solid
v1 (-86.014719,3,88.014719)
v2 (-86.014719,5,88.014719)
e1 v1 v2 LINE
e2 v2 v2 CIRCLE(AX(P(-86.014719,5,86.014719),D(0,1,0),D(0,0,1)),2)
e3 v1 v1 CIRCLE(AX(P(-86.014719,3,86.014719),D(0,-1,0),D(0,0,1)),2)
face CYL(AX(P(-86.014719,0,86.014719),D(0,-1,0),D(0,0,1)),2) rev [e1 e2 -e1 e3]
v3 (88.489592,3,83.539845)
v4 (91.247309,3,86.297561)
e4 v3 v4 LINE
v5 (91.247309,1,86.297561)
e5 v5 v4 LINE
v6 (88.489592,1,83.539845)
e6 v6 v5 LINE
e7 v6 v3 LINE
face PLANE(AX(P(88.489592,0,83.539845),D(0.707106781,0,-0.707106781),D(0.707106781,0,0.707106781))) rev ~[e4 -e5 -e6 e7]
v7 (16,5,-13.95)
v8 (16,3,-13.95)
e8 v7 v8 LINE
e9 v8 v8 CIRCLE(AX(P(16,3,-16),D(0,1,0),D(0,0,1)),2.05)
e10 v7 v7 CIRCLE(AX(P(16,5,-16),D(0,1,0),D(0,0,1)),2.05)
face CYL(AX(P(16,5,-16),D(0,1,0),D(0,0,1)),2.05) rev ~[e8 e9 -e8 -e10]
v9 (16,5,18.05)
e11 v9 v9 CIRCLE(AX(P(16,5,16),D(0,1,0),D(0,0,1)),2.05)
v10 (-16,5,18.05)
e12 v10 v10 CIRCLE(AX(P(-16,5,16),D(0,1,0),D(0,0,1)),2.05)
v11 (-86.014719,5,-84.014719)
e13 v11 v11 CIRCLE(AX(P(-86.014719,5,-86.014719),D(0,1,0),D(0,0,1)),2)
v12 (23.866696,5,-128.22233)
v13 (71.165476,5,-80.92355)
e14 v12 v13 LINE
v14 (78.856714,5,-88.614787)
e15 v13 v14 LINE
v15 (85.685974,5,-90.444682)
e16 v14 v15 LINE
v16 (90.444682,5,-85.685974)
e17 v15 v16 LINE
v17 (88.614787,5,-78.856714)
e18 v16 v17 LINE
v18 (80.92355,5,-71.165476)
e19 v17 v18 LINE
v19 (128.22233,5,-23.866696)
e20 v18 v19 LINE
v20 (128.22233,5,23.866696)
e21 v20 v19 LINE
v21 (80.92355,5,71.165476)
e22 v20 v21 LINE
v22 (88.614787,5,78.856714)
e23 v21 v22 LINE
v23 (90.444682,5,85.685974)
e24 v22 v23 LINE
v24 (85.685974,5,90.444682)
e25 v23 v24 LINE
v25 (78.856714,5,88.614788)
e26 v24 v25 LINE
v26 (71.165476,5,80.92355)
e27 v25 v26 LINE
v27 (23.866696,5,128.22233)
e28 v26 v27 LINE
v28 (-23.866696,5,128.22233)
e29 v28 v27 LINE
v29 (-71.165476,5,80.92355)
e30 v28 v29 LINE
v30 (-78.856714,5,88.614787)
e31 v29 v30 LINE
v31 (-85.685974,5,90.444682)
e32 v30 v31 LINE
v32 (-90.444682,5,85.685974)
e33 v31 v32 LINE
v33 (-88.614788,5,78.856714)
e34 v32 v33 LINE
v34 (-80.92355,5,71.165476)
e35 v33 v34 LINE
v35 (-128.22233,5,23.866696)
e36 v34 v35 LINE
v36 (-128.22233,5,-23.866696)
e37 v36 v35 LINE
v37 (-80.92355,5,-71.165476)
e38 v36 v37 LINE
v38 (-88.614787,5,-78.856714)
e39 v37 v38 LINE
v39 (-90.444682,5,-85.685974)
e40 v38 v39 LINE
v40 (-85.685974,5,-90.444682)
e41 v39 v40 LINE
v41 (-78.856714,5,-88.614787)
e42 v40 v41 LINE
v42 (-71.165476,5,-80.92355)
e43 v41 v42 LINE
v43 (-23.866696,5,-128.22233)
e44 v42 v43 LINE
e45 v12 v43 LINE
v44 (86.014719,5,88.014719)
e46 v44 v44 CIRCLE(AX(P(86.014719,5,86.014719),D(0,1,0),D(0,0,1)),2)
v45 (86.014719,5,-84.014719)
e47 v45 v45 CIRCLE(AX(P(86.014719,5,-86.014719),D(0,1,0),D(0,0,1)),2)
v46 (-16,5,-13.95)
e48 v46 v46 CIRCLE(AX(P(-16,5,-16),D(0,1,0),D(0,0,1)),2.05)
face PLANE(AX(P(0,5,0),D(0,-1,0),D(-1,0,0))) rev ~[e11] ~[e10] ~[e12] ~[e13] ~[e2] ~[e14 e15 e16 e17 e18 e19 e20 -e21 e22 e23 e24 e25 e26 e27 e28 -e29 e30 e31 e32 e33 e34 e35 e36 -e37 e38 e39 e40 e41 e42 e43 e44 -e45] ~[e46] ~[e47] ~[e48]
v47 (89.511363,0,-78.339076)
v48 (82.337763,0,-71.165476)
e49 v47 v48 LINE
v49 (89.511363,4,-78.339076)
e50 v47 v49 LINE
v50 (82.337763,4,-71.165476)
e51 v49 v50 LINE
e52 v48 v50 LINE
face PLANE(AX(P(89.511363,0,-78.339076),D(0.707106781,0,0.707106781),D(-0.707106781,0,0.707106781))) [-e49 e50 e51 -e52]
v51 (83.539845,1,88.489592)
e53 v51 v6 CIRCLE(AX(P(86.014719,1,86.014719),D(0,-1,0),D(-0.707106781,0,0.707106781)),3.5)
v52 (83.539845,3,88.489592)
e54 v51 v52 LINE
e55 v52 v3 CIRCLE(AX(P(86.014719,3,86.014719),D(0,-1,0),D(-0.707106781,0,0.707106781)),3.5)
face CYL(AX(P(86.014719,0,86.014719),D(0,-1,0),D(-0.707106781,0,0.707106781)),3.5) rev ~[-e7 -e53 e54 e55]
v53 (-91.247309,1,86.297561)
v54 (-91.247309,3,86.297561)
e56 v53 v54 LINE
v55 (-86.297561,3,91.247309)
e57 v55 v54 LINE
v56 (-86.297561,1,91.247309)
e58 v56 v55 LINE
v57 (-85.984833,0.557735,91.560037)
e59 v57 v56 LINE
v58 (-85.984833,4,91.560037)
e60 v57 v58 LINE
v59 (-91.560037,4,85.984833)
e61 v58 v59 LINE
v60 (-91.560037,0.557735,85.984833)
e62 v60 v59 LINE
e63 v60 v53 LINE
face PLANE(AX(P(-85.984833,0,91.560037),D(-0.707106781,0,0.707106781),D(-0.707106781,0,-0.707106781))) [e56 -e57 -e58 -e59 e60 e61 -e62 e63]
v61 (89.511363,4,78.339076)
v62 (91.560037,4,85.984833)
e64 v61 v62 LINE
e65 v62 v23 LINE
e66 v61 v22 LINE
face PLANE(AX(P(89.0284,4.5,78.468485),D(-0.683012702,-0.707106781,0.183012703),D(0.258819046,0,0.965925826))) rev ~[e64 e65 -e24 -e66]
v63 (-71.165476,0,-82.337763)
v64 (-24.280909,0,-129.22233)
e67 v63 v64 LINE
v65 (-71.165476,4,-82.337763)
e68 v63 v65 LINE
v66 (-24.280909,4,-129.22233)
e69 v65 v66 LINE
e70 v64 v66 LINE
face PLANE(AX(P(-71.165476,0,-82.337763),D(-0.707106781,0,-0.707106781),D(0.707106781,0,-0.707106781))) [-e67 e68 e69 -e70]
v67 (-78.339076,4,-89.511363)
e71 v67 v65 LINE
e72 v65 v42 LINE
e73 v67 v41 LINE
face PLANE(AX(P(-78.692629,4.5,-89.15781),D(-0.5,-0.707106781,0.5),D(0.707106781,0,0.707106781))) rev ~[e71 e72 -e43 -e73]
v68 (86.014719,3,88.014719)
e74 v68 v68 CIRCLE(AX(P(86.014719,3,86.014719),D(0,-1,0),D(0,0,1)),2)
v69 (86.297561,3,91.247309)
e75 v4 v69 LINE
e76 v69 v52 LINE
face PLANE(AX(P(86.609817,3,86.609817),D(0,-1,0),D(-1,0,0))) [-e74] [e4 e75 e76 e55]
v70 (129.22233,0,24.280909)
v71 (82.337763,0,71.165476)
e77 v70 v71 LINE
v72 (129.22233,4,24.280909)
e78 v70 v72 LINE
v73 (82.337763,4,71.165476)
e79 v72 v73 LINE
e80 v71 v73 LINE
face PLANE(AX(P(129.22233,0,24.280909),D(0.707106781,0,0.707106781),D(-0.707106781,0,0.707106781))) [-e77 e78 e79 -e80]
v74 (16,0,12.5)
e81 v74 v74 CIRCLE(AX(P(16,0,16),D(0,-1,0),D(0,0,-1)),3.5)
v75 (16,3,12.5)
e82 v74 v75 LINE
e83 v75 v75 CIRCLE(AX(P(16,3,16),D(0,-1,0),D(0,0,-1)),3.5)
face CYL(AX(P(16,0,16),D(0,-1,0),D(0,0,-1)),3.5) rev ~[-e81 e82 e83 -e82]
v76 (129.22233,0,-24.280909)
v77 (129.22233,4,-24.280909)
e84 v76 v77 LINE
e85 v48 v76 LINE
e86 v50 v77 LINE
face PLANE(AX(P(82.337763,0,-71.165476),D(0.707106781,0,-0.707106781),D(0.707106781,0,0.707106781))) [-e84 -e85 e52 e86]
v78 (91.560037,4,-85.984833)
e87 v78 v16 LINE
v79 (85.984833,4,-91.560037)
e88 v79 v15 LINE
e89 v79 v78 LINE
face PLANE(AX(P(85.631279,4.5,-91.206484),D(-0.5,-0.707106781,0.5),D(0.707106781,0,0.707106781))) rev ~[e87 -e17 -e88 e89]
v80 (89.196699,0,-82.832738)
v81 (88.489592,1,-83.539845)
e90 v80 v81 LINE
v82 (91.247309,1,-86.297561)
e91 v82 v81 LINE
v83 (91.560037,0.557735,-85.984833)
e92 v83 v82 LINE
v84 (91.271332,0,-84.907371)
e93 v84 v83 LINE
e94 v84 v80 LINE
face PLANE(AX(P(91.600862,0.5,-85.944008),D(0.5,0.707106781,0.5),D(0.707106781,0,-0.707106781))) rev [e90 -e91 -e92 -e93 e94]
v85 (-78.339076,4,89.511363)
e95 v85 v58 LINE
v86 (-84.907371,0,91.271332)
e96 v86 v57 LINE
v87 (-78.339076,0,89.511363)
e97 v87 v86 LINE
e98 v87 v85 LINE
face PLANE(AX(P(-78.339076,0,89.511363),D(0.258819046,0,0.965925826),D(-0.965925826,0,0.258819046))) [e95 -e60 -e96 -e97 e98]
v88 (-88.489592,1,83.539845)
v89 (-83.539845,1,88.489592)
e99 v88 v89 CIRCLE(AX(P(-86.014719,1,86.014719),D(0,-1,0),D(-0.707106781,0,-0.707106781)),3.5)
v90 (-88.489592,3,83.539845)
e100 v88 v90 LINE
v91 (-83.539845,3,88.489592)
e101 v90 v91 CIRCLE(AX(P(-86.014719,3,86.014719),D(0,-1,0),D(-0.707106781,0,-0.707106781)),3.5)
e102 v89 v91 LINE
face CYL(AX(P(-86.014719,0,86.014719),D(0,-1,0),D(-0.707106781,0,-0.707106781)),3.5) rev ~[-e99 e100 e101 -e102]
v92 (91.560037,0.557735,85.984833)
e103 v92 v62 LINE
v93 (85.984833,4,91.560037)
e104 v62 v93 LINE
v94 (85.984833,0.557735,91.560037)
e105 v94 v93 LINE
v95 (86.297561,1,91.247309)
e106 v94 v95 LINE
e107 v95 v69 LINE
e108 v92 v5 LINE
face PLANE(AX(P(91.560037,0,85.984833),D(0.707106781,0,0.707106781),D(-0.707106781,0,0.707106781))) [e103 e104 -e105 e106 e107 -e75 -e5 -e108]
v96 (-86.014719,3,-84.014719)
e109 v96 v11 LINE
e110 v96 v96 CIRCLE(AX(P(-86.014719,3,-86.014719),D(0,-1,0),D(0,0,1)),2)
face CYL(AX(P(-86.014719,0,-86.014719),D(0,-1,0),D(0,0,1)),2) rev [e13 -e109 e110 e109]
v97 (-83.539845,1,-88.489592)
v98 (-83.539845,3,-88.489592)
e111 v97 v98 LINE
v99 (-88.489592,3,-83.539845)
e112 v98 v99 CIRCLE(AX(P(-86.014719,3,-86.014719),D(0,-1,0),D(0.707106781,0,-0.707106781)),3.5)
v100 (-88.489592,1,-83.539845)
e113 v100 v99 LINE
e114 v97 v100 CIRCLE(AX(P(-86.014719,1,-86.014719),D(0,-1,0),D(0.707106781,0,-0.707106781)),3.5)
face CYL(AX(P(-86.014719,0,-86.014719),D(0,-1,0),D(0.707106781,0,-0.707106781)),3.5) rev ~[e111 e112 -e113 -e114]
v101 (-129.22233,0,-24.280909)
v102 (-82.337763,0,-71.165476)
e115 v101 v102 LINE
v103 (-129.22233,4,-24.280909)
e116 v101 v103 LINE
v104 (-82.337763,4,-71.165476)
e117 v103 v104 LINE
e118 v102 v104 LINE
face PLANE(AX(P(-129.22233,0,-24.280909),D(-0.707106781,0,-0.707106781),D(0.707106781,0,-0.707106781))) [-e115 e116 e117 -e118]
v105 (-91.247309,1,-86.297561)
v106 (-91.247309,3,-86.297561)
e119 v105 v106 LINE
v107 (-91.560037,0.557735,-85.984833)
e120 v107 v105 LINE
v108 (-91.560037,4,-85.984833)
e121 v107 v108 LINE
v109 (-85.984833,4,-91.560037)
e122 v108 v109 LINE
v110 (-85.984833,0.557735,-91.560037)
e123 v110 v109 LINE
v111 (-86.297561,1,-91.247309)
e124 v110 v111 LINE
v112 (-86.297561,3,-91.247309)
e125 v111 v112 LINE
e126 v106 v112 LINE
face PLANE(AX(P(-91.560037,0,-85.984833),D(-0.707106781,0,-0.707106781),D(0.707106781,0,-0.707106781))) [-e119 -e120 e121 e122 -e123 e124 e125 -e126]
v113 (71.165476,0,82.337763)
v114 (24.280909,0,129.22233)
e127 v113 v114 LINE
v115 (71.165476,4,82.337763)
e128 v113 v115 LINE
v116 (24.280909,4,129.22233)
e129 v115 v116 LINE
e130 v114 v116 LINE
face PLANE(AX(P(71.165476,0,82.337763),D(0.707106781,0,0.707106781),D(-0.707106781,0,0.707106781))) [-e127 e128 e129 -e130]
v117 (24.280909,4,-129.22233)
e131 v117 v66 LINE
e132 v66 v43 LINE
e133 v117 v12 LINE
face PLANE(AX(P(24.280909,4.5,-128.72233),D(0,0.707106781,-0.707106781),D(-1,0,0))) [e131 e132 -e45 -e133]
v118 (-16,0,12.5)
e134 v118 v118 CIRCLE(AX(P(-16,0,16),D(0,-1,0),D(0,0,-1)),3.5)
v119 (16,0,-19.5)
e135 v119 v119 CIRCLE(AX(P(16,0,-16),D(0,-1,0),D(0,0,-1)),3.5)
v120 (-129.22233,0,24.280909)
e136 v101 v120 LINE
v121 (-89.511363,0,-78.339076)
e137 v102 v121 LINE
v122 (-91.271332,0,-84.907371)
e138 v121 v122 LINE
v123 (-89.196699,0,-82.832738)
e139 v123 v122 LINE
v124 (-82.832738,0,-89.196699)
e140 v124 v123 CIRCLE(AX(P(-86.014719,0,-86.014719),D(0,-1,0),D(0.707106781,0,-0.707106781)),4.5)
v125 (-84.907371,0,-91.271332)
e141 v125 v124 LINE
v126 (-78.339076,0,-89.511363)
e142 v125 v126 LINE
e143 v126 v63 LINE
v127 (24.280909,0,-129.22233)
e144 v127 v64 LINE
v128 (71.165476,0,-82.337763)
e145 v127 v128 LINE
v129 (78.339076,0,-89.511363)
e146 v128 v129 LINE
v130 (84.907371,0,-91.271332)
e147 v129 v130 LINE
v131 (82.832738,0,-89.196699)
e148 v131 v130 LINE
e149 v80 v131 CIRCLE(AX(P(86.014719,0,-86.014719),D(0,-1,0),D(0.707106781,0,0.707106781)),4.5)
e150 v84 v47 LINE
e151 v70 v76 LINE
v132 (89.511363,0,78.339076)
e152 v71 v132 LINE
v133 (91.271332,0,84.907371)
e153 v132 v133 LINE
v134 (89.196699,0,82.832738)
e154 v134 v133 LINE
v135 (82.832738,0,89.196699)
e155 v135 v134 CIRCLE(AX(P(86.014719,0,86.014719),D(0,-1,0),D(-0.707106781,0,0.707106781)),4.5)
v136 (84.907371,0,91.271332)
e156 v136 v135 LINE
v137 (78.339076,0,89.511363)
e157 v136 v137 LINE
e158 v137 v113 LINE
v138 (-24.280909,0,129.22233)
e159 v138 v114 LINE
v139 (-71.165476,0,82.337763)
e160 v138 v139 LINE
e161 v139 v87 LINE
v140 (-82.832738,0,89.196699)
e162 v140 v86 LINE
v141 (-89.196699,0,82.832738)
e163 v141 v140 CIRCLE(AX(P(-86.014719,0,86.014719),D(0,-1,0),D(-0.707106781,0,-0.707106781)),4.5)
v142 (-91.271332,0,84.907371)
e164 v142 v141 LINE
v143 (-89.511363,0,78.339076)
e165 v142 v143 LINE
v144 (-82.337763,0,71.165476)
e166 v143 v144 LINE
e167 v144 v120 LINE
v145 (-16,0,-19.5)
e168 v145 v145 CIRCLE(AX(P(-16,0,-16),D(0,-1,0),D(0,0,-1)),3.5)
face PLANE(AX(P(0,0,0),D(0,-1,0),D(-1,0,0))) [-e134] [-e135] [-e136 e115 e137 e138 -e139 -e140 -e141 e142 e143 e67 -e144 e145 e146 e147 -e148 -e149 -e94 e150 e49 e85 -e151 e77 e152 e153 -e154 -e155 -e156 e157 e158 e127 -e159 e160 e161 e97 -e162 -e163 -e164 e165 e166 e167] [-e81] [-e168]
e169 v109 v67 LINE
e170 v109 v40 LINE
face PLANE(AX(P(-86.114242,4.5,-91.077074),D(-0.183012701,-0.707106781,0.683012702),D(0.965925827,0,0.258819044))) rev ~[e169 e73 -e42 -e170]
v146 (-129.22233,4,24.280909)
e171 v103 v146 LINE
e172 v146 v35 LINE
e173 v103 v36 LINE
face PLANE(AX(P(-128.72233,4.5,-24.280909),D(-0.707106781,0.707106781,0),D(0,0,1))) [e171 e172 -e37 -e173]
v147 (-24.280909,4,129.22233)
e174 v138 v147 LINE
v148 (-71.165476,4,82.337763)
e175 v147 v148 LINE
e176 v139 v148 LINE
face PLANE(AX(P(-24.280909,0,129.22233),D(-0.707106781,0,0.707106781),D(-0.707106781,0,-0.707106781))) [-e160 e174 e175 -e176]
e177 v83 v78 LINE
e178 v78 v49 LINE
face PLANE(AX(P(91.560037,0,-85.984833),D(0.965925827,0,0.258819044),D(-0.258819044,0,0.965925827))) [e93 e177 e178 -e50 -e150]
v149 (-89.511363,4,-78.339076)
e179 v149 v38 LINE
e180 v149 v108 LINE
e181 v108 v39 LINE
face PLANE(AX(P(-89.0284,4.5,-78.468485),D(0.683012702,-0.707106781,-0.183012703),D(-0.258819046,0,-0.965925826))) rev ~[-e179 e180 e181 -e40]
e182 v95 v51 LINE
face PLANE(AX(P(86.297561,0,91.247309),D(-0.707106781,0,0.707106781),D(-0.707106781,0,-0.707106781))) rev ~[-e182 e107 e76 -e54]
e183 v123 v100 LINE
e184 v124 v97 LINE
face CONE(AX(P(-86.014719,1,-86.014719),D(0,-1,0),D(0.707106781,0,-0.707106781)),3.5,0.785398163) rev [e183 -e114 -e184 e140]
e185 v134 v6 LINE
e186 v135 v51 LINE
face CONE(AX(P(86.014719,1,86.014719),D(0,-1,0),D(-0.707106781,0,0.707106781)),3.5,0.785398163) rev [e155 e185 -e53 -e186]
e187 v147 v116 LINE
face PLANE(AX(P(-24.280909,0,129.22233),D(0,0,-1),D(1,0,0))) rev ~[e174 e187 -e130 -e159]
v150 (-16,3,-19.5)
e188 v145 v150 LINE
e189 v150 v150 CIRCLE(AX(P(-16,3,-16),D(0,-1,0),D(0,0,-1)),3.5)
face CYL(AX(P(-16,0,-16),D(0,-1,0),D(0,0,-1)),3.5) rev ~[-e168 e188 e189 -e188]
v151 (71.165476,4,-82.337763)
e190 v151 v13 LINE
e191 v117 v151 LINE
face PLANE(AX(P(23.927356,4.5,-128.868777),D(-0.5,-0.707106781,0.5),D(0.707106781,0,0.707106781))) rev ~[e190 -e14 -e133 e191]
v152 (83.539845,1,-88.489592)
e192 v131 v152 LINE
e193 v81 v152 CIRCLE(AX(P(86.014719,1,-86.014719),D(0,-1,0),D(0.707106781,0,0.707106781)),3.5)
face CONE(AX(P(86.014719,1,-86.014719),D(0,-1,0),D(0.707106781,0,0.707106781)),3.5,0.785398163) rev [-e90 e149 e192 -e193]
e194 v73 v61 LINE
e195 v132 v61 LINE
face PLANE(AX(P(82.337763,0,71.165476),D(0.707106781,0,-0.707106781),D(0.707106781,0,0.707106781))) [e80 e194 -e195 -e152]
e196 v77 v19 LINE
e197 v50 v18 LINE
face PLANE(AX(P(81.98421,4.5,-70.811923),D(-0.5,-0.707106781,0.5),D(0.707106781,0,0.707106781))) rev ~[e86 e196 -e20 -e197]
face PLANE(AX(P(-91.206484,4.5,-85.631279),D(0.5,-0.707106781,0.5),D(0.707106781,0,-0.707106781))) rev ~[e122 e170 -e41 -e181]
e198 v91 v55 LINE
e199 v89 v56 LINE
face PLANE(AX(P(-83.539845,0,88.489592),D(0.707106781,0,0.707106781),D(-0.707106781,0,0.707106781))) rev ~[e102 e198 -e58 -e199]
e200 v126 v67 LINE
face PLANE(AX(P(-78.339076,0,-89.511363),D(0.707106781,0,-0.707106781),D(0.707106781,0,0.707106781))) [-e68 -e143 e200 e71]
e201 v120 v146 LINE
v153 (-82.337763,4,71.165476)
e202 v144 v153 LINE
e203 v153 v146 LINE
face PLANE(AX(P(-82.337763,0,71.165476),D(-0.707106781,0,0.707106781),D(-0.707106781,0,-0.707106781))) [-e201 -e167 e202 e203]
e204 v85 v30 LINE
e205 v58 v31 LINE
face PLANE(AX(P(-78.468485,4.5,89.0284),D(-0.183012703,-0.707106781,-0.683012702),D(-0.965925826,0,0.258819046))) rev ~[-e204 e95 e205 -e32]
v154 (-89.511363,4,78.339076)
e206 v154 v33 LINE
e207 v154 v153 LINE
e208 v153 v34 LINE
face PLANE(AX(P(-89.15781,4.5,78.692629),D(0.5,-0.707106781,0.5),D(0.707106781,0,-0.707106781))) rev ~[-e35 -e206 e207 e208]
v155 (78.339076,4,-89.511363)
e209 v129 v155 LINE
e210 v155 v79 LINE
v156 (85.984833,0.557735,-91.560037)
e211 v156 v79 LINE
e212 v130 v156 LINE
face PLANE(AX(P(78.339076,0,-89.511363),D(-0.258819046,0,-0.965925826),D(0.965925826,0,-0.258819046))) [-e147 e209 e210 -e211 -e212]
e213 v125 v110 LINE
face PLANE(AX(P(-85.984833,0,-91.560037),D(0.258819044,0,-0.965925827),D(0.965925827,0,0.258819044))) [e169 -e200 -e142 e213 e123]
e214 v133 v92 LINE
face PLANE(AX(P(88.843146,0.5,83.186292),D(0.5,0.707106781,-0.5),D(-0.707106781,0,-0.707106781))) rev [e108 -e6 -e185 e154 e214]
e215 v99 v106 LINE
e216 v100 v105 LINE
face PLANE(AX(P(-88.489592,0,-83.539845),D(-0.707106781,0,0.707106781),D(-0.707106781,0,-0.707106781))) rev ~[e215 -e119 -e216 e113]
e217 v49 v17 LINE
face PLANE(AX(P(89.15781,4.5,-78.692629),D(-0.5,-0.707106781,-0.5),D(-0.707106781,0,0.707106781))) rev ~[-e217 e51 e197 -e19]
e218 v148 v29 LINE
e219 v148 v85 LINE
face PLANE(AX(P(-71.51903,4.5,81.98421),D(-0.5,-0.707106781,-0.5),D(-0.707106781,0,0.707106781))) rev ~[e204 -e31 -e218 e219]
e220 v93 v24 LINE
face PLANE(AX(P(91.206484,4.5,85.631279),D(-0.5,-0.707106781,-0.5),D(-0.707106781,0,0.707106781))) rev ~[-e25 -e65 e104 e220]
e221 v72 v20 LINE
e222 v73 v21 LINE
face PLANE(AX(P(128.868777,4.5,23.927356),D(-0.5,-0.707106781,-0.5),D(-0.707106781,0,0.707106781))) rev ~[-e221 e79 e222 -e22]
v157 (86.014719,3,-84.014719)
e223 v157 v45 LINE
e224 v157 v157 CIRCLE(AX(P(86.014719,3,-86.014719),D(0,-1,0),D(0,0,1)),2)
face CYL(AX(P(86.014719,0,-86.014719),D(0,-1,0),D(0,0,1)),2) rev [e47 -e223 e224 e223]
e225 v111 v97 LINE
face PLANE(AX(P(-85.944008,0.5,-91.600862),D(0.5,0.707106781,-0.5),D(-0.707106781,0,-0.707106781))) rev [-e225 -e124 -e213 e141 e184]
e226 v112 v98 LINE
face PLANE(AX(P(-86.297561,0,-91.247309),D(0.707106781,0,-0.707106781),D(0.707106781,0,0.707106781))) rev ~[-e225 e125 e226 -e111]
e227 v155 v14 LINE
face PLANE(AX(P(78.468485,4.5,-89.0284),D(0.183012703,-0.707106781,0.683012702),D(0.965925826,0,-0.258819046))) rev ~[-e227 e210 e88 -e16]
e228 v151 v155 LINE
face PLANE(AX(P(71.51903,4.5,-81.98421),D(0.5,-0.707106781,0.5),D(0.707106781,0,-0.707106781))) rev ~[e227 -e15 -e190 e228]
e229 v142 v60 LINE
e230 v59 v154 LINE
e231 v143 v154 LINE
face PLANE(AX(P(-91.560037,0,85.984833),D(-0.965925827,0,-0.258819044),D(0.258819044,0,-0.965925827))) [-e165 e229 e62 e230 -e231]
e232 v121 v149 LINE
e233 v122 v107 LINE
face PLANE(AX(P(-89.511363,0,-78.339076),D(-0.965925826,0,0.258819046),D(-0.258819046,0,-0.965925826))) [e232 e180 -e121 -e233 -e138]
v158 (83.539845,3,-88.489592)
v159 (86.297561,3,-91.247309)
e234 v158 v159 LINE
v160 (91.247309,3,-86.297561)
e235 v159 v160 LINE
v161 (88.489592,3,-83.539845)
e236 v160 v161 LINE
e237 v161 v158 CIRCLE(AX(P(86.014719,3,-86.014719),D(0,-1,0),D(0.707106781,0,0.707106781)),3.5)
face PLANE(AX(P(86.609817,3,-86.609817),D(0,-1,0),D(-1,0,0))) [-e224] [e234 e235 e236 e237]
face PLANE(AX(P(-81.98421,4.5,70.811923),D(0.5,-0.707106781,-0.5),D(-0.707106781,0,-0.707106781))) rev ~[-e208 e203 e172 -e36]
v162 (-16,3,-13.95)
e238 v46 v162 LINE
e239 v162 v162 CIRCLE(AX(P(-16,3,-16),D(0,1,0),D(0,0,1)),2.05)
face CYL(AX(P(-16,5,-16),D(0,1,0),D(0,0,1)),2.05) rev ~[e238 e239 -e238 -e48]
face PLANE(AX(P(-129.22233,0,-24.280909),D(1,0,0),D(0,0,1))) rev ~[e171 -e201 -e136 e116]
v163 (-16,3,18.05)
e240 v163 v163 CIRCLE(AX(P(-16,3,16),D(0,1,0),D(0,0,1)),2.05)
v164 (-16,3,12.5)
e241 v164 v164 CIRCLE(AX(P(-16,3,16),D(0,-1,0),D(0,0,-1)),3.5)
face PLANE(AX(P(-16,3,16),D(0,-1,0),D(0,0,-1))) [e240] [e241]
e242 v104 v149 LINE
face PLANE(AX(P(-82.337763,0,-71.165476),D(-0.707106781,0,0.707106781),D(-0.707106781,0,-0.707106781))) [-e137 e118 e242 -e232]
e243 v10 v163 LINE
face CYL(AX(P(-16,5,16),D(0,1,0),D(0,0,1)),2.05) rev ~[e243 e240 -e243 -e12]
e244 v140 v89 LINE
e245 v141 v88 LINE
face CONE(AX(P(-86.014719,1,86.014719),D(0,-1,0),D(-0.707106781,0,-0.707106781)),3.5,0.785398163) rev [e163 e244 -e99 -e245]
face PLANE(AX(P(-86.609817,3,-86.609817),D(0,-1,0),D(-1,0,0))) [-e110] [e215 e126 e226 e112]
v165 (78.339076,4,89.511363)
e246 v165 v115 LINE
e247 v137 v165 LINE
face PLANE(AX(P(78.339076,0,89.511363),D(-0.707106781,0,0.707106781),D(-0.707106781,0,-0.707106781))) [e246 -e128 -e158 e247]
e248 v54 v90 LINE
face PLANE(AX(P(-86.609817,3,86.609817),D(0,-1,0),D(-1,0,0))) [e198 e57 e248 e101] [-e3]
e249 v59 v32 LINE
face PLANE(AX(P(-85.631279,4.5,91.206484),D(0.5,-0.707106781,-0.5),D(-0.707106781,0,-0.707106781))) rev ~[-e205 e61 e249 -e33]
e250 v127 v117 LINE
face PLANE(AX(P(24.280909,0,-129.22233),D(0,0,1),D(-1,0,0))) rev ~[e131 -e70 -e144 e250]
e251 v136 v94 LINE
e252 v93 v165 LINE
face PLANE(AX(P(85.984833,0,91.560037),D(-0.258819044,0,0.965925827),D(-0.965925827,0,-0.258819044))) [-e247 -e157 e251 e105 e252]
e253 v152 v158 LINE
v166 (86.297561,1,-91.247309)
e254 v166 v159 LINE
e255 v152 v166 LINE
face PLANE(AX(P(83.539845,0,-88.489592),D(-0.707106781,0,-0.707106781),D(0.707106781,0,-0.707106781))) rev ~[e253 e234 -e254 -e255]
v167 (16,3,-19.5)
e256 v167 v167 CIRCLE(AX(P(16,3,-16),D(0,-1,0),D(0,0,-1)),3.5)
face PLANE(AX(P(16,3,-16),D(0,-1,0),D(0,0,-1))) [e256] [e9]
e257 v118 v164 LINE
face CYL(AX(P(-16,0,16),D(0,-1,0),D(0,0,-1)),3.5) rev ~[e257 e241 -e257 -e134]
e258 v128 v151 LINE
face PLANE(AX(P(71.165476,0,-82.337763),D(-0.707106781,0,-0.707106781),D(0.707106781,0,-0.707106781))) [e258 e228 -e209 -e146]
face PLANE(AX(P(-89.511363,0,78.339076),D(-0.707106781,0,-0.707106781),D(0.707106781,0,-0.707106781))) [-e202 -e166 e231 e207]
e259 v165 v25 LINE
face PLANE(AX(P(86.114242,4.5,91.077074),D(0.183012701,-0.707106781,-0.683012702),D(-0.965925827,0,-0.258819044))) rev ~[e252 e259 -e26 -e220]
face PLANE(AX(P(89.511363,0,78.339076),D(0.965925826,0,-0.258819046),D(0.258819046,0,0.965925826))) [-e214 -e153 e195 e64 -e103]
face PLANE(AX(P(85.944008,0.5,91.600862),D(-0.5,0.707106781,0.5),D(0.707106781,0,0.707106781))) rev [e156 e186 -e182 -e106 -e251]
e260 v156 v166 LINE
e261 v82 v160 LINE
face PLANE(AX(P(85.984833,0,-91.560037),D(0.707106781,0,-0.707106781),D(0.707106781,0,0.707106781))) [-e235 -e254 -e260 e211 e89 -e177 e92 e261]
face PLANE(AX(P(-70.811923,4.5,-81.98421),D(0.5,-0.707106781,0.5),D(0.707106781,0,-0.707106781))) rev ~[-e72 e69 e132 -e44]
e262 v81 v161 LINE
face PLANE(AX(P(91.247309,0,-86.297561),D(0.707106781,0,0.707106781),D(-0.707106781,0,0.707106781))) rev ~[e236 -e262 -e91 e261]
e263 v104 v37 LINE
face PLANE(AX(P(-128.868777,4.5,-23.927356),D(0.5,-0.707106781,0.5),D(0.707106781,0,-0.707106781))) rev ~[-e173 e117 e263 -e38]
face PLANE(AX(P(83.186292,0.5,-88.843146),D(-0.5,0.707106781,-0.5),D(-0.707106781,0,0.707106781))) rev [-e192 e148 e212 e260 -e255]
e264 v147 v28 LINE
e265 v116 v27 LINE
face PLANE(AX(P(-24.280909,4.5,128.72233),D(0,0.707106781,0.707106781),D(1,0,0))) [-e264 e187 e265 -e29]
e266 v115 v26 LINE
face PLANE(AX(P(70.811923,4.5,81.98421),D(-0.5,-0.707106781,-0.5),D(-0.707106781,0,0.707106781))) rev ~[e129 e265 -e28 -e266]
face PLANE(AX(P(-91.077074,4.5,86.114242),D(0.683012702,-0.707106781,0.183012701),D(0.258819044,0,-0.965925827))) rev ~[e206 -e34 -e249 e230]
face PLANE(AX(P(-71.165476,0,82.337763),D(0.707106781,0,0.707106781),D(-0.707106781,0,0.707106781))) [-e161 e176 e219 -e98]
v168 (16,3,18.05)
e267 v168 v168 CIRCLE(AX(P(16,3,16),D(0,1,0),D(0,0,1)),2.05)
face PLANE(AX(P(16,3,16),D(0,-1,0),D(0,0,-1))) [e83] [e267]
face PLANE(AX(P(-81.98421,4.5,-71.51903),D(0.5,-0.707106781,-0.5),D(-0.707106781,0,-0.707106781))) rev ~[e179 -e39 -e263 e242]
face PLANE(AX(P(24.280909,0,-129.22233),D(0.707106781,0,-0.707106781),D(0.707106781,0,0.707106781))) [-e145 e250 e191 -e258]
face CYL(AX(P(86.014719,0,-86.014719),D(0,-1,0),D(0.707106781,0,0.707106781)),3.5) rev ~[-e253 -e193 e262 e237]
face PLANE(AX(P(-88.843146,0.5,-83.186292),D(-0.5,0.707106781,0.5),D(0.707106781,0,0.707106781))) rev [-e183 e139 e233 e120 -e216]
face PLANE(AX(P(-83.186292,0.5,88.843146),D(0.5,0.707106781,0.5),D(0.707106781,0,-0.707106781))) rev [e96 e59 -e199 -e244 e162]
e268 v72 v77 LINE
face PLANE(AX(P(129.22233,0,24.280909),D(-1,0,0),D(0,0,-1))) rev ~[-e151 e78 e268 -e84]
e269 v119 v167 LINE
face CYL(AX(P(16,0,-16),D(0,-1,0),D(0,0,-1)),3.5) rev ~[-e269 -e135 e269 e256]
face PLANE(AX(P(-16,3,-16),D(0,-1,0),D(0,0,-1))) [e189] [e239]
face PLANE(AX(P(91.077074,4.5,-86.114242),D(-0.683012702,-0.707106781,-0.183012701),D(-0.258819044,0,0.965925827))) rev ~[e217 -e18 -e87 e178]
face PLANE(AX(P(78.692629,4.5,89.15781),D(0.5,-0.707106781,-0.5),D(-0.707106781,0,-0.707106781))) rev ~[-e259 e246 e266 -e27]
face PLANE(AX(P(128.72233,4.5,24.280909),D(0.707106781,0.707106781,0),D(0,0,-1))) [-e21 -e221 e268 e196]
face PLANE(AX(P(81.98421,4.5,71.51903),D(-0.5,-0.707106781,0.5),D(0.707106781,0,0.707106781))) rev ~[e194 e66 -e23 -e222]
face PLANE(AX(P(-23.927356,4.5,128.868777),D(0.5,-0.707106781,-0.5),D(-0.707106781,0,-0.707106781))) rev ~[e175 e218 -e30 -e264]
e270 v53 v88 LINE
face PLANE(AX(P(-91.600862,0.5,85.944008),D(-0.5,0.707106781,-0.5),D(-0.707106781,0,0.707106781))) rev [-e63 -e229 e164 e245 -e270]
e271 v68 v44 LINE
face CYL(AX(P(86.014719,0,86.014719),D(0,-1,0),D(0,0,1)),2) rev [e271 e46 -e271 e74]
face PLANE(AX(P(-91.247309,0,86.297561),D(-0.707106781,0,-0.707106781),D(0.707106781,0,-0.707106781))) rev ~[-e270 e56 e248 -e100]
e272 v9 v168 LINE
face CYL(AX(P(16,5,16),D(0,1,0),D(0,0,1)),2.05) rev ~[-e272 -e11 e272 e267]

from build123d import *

# Parameters (mm, degrees)
SKETCH2_R                                  = 2
SKETCH2_R_2                                = 1.999999996
MAIN_FLOOR_EXTRUDE_DEPTH                   = 5
MAIN_FLOOR_CHAMFER_SIZE                    = 1
MOUNT_SCREW_COUNTERSINK_DEPTH              = 3
MOUNT_SCREW_COUNTERSINK_CHAMFER_SIZE       = 1
SKETCH6_R                                  = 2.05
BOTTOM_MOTOR_MOUNT_HOLES_DEPTH             = 183.816359737
SKETCH7_R                                  = 3.5
BOTTOM_MOTOR_MOUNT_HOLES_COUNTERSINK_DEPTH = 3


with BuildPart() as part:
    # Sketch2 → Main Floor Extrude (new body)
    with BuildSketch(Plane(origin=(0, 0, 0), x_dir=(1, 0, 0), z_dir=(0, 1, 0))):
        Polygon((129.222330464, 0), (129.222330464, -24.28090912), (82.337763357, -71.165476227), (89.511362957, -78.339075827), (91.560037368, -85.984832777), (85.984832777, -91.560037368), (78.339075822, -89.511362977), (71.165476214, -82.33776337), (24.280909108, -129.222330477), (0, -129.222330477), (-24.28090912, -129.222330477), (-71.165476227, -82.33776337), (-78.339075827, -89.51136297), (-85.984832777, -91.560037381), (-91.560037368, -85.984832789), (-89.511362977, -78.339075834), (-82.33776337, -71.165476227), (-129.222330477, -24.28090912), (-129.222330477, -1.3e-08), (-129.222330477, 24.280909108), (-82.33776337, 71.165476214), (-89.51136297, 78.339075814), (-91.560037381, 85.984832764), (-85.984832789, 91.560037355), (-78.339075834, 89.511362964), (-71.165476227, 82.337763357), (-24.28090912, 129.222330464), (-1.3e-08, 129.222330464), (24.280909108, 129.222330464), (71.165476214, 82.337763357), (78.339075814, 89.511362957), (85.984832764, 91.560037368), (91.560037355, 85.984832777), (89.511362964, 78.339075822), (82.337763357, 71.165476214), (129.222330464, 24.280909108), align=None)
        with Locations(Location((86.014718626, -86.014718626, 0), (0, 0, 270))):
            Circle(SKETCH2_R, mode=Mode.SUBTRACT)
        with Locations(Location((-86.014718626, -86.014718639, 0), (0, 0, 270))):
            Circle(SKETCH2_R, mode=Mode.SUBTRACT)
        with Locations(Location((-86.014718639, 86.014718613, 0), (0, 0, 270))):
            Circle(SKETCH2_R, mode=Mode.SUBTRACT)
        with Locations(Location((86.014718613, 86.014718626, 0), (0, 0, 270))):
            Circle(SKETCH2_R_2, mode=Mode.SUBTRACT)
    extrude(amount=MAIN_FLOOR_EXTRUDE_DEPTH)

    # Main Floor Chamfer
    main_floor_chamfer_edges = [part.edges().sort_by_distance(p)[0] for p in [
        (-74.752276027, 5, 85.92456317),
        (-47.723192674, 5, 105.780046923),
        (-6e-09, 5, 129.222330477),
        (47.723192661, 5, 105.780046923),
        (74.752276018, 5, 85.924563174),
        (82.161954299, 5, 90.535700173),
        (88.772435072, 5, 88.772435072),
        (85.924563161, 5, -74.752276018),
        (90.535700163, 5, 82.161954302),
        (85.924563157, 5, 74.752276027),
        (105.780046911, 5, 47.723192674),
        (90.53570016, 5, -82.161954299),
        (88.77243506, 5, -88.772435072),
        (82.161954289, 5, -90.535700163),
        (74.752276014, 5, -85.924563157),
        (47.723192661, 5, -105.780046911),
        (-6e-09, 5, -129.222330464),
        (-47.723192674, 5, -105.780046911),
        (-74.752276031, 5, -85.924563161),
        (129.222330464, 5, 6e-09),
        (-82.161954312, 5, -90.53570016),
        (-88.772435085, 5, -88.77243506),
        (-90.535700175, 5, -82.161954289),
        (-85.92456317, 5, -74.752276014),
        (-105.780046923, 5, -47.723192661),
        (-129.222330477, 5, 6e-09),
        (-105.780046923, 5, 47.723192674),
        (-85.924563174, 5, 74.752276031),
        (-90.535700173, 5, 82.161954312),
        (105.780046911, 5, -47.723192661),
        (-88.772435072, 5, 88.772435085),
        (-82.161954302, 5, 90.535700175),
    ]]
    chamfer(main_floor_chamfer_edges, length=MAIN_FLOOR_CHAMFER_SIZE)

    # Sketch3 → Mount Screw Countersink (cut)
    with BuildSketch(Plane(origin=(0, 0, 0), x_dir=(-1, 0, 0), z_dir=(0, -1, 0))):
        with BuildLine():
            Line((91.247308807, -86.297561351), (88.48959236, -83.539844904))
            ThreePointArc((88.48959236, -83.539844904), (83.539844892, -83.539844904), (83.539844892, -88.489592373))
            Line((83.539844892, -88.489592373), (86.297561338, -91.247308819))
            Line((86.297561338, -91.247308819), (91.247308807, -86.297561351))
        make_face()
        with BuildLine():
            Line((-86.297561351, -91.247308807), (-83.539844904, -88.48959236))
            ThreePointArc((-83.539844904, -88.48959236), (-83.539844904, -83.539844892), (-88.489592373, -83.539844892))
            Line((-88.489592373, -83.539844892), (-91.247308819, -86.297561338))
            Line((-91.247308819, -86.297561338), (-86.297561351, -91.247308807))
        make_face()
        with BuildLine():
            Line((-91.247308807, 86.297561351), (-88.48959236, 83.539844904))
            ThreePointArc((-88.48959236, 83.539844904), (-83.539844892, 83.539844904), (-83.539844892, 88.489592373))
            Line((-83.539844892, 88.489592373), (-86.297561338, 91.247308819))
            Line((-86.297561338, 91.247308819), (-91.247308807, 86.297561351))
        make_face()
        with BuildLine():
            Line((86.297561351, 91.247308807), (83.539844904, 88.48959236))
            ThreePointArc((83.539844904, 88.48959236), (83.539844904, 83.539844892), (88.489592373, 83.539844892))
            Line((88.489592373, 83.539844892), (91.247308819, 86.297561338))
            Line((91.247308819, 86.297561338), (86.297561351, 91.247308807))
        make_face()
    extrude(amount=-MOUNT_SCREW_COUNTERSINK_DEPTH, mode=Mode.SUBTRACT)

    # Mount Screw Countersink Chamfer
    mount_screw_countersink_chamfer_edges = [part.edges().sort_by_distance(p)[0] for p in [
        (-84.918703128, 0, -89.868450583),
        (-89.868450596, 0, -84.918703115),
        (-83.539844904, 0, -83.539844892),
        (89.868450583, 0, -84.918703128),
        (84.918703115, 0, -89.868450596),
        (83.539844892, 0, -83.539844904),
        (84.918703128, 0, 89.868450583),
        (89.868450596, 0, 84.918703115),
        (83.539844904, 0, 83.539844892),
        (-89.868450583, 0, 84.918703128),
        (-84.918703115, 0, 89.868450596),
        (-83.539844892, 0, 83.539844904),
    ]]
    chamfer(mount_screw_countersink_chamfer_edges, length=MOUNT_SCREW_COUNTERSINK_CHAMFER_SIZE)

    # Sketch6 → Bottom Motor Mount Holes (cut, through all)
    with BuildSketch(Plane(origin=(0, 5, 0), x_dir=(1, 0, 0), z_dir=(0, 1, 0))):
        with Locations(Location((-16, 16, 0), (0, 0, 270))):
            Circle(SKETCH6_R)
        with Locations(Location((16, 16, 0), (0, 0, 270))):
            Circle(SKETCH6_R)
        with Locations(Location((16, -16, 0), (0, 0, 270))):
            Circle(SKETCH6_R)
        with Locations(Location((-16, -16, 0), (0, 0, 270))):
            Circle(SKETCH6_R)
    extrude(amount=-BOTTOM_MOTOR_MOUNT_HOLES_DEPTH, mode=Mode.SUBTRACT)

    # Sketch7 → Bottom Motor Mount Holes Countersink (cut)
    with BuildSketch(Plane(origin=(0, 0, 0), x_dir=(-1, 0, 0), z_dir=(0, -1, 0))):
        with Locations(Location((16, -16, 0), (0, 0, 90))):
            Circle(SKETCH7_R)
        with Locations(Location((-16, -16, 0), (0, 0, 90))):
            Circle(SKETCH7_R)
        with Locations(Location((-16, 16, 0), (0, 0, 90))):
            Circle(SKETCH7_R)
        with Locations(Location((16, 16, 0), (0, 0, 90))):
            Circle(SKETCH7_R)
    extrude(amount=-BOTTOM_MOTOR_MOUNT_HOLES_COUNTERSINK_DEPTH, mode=Mode.SUBTRACT)


solid = part.part
